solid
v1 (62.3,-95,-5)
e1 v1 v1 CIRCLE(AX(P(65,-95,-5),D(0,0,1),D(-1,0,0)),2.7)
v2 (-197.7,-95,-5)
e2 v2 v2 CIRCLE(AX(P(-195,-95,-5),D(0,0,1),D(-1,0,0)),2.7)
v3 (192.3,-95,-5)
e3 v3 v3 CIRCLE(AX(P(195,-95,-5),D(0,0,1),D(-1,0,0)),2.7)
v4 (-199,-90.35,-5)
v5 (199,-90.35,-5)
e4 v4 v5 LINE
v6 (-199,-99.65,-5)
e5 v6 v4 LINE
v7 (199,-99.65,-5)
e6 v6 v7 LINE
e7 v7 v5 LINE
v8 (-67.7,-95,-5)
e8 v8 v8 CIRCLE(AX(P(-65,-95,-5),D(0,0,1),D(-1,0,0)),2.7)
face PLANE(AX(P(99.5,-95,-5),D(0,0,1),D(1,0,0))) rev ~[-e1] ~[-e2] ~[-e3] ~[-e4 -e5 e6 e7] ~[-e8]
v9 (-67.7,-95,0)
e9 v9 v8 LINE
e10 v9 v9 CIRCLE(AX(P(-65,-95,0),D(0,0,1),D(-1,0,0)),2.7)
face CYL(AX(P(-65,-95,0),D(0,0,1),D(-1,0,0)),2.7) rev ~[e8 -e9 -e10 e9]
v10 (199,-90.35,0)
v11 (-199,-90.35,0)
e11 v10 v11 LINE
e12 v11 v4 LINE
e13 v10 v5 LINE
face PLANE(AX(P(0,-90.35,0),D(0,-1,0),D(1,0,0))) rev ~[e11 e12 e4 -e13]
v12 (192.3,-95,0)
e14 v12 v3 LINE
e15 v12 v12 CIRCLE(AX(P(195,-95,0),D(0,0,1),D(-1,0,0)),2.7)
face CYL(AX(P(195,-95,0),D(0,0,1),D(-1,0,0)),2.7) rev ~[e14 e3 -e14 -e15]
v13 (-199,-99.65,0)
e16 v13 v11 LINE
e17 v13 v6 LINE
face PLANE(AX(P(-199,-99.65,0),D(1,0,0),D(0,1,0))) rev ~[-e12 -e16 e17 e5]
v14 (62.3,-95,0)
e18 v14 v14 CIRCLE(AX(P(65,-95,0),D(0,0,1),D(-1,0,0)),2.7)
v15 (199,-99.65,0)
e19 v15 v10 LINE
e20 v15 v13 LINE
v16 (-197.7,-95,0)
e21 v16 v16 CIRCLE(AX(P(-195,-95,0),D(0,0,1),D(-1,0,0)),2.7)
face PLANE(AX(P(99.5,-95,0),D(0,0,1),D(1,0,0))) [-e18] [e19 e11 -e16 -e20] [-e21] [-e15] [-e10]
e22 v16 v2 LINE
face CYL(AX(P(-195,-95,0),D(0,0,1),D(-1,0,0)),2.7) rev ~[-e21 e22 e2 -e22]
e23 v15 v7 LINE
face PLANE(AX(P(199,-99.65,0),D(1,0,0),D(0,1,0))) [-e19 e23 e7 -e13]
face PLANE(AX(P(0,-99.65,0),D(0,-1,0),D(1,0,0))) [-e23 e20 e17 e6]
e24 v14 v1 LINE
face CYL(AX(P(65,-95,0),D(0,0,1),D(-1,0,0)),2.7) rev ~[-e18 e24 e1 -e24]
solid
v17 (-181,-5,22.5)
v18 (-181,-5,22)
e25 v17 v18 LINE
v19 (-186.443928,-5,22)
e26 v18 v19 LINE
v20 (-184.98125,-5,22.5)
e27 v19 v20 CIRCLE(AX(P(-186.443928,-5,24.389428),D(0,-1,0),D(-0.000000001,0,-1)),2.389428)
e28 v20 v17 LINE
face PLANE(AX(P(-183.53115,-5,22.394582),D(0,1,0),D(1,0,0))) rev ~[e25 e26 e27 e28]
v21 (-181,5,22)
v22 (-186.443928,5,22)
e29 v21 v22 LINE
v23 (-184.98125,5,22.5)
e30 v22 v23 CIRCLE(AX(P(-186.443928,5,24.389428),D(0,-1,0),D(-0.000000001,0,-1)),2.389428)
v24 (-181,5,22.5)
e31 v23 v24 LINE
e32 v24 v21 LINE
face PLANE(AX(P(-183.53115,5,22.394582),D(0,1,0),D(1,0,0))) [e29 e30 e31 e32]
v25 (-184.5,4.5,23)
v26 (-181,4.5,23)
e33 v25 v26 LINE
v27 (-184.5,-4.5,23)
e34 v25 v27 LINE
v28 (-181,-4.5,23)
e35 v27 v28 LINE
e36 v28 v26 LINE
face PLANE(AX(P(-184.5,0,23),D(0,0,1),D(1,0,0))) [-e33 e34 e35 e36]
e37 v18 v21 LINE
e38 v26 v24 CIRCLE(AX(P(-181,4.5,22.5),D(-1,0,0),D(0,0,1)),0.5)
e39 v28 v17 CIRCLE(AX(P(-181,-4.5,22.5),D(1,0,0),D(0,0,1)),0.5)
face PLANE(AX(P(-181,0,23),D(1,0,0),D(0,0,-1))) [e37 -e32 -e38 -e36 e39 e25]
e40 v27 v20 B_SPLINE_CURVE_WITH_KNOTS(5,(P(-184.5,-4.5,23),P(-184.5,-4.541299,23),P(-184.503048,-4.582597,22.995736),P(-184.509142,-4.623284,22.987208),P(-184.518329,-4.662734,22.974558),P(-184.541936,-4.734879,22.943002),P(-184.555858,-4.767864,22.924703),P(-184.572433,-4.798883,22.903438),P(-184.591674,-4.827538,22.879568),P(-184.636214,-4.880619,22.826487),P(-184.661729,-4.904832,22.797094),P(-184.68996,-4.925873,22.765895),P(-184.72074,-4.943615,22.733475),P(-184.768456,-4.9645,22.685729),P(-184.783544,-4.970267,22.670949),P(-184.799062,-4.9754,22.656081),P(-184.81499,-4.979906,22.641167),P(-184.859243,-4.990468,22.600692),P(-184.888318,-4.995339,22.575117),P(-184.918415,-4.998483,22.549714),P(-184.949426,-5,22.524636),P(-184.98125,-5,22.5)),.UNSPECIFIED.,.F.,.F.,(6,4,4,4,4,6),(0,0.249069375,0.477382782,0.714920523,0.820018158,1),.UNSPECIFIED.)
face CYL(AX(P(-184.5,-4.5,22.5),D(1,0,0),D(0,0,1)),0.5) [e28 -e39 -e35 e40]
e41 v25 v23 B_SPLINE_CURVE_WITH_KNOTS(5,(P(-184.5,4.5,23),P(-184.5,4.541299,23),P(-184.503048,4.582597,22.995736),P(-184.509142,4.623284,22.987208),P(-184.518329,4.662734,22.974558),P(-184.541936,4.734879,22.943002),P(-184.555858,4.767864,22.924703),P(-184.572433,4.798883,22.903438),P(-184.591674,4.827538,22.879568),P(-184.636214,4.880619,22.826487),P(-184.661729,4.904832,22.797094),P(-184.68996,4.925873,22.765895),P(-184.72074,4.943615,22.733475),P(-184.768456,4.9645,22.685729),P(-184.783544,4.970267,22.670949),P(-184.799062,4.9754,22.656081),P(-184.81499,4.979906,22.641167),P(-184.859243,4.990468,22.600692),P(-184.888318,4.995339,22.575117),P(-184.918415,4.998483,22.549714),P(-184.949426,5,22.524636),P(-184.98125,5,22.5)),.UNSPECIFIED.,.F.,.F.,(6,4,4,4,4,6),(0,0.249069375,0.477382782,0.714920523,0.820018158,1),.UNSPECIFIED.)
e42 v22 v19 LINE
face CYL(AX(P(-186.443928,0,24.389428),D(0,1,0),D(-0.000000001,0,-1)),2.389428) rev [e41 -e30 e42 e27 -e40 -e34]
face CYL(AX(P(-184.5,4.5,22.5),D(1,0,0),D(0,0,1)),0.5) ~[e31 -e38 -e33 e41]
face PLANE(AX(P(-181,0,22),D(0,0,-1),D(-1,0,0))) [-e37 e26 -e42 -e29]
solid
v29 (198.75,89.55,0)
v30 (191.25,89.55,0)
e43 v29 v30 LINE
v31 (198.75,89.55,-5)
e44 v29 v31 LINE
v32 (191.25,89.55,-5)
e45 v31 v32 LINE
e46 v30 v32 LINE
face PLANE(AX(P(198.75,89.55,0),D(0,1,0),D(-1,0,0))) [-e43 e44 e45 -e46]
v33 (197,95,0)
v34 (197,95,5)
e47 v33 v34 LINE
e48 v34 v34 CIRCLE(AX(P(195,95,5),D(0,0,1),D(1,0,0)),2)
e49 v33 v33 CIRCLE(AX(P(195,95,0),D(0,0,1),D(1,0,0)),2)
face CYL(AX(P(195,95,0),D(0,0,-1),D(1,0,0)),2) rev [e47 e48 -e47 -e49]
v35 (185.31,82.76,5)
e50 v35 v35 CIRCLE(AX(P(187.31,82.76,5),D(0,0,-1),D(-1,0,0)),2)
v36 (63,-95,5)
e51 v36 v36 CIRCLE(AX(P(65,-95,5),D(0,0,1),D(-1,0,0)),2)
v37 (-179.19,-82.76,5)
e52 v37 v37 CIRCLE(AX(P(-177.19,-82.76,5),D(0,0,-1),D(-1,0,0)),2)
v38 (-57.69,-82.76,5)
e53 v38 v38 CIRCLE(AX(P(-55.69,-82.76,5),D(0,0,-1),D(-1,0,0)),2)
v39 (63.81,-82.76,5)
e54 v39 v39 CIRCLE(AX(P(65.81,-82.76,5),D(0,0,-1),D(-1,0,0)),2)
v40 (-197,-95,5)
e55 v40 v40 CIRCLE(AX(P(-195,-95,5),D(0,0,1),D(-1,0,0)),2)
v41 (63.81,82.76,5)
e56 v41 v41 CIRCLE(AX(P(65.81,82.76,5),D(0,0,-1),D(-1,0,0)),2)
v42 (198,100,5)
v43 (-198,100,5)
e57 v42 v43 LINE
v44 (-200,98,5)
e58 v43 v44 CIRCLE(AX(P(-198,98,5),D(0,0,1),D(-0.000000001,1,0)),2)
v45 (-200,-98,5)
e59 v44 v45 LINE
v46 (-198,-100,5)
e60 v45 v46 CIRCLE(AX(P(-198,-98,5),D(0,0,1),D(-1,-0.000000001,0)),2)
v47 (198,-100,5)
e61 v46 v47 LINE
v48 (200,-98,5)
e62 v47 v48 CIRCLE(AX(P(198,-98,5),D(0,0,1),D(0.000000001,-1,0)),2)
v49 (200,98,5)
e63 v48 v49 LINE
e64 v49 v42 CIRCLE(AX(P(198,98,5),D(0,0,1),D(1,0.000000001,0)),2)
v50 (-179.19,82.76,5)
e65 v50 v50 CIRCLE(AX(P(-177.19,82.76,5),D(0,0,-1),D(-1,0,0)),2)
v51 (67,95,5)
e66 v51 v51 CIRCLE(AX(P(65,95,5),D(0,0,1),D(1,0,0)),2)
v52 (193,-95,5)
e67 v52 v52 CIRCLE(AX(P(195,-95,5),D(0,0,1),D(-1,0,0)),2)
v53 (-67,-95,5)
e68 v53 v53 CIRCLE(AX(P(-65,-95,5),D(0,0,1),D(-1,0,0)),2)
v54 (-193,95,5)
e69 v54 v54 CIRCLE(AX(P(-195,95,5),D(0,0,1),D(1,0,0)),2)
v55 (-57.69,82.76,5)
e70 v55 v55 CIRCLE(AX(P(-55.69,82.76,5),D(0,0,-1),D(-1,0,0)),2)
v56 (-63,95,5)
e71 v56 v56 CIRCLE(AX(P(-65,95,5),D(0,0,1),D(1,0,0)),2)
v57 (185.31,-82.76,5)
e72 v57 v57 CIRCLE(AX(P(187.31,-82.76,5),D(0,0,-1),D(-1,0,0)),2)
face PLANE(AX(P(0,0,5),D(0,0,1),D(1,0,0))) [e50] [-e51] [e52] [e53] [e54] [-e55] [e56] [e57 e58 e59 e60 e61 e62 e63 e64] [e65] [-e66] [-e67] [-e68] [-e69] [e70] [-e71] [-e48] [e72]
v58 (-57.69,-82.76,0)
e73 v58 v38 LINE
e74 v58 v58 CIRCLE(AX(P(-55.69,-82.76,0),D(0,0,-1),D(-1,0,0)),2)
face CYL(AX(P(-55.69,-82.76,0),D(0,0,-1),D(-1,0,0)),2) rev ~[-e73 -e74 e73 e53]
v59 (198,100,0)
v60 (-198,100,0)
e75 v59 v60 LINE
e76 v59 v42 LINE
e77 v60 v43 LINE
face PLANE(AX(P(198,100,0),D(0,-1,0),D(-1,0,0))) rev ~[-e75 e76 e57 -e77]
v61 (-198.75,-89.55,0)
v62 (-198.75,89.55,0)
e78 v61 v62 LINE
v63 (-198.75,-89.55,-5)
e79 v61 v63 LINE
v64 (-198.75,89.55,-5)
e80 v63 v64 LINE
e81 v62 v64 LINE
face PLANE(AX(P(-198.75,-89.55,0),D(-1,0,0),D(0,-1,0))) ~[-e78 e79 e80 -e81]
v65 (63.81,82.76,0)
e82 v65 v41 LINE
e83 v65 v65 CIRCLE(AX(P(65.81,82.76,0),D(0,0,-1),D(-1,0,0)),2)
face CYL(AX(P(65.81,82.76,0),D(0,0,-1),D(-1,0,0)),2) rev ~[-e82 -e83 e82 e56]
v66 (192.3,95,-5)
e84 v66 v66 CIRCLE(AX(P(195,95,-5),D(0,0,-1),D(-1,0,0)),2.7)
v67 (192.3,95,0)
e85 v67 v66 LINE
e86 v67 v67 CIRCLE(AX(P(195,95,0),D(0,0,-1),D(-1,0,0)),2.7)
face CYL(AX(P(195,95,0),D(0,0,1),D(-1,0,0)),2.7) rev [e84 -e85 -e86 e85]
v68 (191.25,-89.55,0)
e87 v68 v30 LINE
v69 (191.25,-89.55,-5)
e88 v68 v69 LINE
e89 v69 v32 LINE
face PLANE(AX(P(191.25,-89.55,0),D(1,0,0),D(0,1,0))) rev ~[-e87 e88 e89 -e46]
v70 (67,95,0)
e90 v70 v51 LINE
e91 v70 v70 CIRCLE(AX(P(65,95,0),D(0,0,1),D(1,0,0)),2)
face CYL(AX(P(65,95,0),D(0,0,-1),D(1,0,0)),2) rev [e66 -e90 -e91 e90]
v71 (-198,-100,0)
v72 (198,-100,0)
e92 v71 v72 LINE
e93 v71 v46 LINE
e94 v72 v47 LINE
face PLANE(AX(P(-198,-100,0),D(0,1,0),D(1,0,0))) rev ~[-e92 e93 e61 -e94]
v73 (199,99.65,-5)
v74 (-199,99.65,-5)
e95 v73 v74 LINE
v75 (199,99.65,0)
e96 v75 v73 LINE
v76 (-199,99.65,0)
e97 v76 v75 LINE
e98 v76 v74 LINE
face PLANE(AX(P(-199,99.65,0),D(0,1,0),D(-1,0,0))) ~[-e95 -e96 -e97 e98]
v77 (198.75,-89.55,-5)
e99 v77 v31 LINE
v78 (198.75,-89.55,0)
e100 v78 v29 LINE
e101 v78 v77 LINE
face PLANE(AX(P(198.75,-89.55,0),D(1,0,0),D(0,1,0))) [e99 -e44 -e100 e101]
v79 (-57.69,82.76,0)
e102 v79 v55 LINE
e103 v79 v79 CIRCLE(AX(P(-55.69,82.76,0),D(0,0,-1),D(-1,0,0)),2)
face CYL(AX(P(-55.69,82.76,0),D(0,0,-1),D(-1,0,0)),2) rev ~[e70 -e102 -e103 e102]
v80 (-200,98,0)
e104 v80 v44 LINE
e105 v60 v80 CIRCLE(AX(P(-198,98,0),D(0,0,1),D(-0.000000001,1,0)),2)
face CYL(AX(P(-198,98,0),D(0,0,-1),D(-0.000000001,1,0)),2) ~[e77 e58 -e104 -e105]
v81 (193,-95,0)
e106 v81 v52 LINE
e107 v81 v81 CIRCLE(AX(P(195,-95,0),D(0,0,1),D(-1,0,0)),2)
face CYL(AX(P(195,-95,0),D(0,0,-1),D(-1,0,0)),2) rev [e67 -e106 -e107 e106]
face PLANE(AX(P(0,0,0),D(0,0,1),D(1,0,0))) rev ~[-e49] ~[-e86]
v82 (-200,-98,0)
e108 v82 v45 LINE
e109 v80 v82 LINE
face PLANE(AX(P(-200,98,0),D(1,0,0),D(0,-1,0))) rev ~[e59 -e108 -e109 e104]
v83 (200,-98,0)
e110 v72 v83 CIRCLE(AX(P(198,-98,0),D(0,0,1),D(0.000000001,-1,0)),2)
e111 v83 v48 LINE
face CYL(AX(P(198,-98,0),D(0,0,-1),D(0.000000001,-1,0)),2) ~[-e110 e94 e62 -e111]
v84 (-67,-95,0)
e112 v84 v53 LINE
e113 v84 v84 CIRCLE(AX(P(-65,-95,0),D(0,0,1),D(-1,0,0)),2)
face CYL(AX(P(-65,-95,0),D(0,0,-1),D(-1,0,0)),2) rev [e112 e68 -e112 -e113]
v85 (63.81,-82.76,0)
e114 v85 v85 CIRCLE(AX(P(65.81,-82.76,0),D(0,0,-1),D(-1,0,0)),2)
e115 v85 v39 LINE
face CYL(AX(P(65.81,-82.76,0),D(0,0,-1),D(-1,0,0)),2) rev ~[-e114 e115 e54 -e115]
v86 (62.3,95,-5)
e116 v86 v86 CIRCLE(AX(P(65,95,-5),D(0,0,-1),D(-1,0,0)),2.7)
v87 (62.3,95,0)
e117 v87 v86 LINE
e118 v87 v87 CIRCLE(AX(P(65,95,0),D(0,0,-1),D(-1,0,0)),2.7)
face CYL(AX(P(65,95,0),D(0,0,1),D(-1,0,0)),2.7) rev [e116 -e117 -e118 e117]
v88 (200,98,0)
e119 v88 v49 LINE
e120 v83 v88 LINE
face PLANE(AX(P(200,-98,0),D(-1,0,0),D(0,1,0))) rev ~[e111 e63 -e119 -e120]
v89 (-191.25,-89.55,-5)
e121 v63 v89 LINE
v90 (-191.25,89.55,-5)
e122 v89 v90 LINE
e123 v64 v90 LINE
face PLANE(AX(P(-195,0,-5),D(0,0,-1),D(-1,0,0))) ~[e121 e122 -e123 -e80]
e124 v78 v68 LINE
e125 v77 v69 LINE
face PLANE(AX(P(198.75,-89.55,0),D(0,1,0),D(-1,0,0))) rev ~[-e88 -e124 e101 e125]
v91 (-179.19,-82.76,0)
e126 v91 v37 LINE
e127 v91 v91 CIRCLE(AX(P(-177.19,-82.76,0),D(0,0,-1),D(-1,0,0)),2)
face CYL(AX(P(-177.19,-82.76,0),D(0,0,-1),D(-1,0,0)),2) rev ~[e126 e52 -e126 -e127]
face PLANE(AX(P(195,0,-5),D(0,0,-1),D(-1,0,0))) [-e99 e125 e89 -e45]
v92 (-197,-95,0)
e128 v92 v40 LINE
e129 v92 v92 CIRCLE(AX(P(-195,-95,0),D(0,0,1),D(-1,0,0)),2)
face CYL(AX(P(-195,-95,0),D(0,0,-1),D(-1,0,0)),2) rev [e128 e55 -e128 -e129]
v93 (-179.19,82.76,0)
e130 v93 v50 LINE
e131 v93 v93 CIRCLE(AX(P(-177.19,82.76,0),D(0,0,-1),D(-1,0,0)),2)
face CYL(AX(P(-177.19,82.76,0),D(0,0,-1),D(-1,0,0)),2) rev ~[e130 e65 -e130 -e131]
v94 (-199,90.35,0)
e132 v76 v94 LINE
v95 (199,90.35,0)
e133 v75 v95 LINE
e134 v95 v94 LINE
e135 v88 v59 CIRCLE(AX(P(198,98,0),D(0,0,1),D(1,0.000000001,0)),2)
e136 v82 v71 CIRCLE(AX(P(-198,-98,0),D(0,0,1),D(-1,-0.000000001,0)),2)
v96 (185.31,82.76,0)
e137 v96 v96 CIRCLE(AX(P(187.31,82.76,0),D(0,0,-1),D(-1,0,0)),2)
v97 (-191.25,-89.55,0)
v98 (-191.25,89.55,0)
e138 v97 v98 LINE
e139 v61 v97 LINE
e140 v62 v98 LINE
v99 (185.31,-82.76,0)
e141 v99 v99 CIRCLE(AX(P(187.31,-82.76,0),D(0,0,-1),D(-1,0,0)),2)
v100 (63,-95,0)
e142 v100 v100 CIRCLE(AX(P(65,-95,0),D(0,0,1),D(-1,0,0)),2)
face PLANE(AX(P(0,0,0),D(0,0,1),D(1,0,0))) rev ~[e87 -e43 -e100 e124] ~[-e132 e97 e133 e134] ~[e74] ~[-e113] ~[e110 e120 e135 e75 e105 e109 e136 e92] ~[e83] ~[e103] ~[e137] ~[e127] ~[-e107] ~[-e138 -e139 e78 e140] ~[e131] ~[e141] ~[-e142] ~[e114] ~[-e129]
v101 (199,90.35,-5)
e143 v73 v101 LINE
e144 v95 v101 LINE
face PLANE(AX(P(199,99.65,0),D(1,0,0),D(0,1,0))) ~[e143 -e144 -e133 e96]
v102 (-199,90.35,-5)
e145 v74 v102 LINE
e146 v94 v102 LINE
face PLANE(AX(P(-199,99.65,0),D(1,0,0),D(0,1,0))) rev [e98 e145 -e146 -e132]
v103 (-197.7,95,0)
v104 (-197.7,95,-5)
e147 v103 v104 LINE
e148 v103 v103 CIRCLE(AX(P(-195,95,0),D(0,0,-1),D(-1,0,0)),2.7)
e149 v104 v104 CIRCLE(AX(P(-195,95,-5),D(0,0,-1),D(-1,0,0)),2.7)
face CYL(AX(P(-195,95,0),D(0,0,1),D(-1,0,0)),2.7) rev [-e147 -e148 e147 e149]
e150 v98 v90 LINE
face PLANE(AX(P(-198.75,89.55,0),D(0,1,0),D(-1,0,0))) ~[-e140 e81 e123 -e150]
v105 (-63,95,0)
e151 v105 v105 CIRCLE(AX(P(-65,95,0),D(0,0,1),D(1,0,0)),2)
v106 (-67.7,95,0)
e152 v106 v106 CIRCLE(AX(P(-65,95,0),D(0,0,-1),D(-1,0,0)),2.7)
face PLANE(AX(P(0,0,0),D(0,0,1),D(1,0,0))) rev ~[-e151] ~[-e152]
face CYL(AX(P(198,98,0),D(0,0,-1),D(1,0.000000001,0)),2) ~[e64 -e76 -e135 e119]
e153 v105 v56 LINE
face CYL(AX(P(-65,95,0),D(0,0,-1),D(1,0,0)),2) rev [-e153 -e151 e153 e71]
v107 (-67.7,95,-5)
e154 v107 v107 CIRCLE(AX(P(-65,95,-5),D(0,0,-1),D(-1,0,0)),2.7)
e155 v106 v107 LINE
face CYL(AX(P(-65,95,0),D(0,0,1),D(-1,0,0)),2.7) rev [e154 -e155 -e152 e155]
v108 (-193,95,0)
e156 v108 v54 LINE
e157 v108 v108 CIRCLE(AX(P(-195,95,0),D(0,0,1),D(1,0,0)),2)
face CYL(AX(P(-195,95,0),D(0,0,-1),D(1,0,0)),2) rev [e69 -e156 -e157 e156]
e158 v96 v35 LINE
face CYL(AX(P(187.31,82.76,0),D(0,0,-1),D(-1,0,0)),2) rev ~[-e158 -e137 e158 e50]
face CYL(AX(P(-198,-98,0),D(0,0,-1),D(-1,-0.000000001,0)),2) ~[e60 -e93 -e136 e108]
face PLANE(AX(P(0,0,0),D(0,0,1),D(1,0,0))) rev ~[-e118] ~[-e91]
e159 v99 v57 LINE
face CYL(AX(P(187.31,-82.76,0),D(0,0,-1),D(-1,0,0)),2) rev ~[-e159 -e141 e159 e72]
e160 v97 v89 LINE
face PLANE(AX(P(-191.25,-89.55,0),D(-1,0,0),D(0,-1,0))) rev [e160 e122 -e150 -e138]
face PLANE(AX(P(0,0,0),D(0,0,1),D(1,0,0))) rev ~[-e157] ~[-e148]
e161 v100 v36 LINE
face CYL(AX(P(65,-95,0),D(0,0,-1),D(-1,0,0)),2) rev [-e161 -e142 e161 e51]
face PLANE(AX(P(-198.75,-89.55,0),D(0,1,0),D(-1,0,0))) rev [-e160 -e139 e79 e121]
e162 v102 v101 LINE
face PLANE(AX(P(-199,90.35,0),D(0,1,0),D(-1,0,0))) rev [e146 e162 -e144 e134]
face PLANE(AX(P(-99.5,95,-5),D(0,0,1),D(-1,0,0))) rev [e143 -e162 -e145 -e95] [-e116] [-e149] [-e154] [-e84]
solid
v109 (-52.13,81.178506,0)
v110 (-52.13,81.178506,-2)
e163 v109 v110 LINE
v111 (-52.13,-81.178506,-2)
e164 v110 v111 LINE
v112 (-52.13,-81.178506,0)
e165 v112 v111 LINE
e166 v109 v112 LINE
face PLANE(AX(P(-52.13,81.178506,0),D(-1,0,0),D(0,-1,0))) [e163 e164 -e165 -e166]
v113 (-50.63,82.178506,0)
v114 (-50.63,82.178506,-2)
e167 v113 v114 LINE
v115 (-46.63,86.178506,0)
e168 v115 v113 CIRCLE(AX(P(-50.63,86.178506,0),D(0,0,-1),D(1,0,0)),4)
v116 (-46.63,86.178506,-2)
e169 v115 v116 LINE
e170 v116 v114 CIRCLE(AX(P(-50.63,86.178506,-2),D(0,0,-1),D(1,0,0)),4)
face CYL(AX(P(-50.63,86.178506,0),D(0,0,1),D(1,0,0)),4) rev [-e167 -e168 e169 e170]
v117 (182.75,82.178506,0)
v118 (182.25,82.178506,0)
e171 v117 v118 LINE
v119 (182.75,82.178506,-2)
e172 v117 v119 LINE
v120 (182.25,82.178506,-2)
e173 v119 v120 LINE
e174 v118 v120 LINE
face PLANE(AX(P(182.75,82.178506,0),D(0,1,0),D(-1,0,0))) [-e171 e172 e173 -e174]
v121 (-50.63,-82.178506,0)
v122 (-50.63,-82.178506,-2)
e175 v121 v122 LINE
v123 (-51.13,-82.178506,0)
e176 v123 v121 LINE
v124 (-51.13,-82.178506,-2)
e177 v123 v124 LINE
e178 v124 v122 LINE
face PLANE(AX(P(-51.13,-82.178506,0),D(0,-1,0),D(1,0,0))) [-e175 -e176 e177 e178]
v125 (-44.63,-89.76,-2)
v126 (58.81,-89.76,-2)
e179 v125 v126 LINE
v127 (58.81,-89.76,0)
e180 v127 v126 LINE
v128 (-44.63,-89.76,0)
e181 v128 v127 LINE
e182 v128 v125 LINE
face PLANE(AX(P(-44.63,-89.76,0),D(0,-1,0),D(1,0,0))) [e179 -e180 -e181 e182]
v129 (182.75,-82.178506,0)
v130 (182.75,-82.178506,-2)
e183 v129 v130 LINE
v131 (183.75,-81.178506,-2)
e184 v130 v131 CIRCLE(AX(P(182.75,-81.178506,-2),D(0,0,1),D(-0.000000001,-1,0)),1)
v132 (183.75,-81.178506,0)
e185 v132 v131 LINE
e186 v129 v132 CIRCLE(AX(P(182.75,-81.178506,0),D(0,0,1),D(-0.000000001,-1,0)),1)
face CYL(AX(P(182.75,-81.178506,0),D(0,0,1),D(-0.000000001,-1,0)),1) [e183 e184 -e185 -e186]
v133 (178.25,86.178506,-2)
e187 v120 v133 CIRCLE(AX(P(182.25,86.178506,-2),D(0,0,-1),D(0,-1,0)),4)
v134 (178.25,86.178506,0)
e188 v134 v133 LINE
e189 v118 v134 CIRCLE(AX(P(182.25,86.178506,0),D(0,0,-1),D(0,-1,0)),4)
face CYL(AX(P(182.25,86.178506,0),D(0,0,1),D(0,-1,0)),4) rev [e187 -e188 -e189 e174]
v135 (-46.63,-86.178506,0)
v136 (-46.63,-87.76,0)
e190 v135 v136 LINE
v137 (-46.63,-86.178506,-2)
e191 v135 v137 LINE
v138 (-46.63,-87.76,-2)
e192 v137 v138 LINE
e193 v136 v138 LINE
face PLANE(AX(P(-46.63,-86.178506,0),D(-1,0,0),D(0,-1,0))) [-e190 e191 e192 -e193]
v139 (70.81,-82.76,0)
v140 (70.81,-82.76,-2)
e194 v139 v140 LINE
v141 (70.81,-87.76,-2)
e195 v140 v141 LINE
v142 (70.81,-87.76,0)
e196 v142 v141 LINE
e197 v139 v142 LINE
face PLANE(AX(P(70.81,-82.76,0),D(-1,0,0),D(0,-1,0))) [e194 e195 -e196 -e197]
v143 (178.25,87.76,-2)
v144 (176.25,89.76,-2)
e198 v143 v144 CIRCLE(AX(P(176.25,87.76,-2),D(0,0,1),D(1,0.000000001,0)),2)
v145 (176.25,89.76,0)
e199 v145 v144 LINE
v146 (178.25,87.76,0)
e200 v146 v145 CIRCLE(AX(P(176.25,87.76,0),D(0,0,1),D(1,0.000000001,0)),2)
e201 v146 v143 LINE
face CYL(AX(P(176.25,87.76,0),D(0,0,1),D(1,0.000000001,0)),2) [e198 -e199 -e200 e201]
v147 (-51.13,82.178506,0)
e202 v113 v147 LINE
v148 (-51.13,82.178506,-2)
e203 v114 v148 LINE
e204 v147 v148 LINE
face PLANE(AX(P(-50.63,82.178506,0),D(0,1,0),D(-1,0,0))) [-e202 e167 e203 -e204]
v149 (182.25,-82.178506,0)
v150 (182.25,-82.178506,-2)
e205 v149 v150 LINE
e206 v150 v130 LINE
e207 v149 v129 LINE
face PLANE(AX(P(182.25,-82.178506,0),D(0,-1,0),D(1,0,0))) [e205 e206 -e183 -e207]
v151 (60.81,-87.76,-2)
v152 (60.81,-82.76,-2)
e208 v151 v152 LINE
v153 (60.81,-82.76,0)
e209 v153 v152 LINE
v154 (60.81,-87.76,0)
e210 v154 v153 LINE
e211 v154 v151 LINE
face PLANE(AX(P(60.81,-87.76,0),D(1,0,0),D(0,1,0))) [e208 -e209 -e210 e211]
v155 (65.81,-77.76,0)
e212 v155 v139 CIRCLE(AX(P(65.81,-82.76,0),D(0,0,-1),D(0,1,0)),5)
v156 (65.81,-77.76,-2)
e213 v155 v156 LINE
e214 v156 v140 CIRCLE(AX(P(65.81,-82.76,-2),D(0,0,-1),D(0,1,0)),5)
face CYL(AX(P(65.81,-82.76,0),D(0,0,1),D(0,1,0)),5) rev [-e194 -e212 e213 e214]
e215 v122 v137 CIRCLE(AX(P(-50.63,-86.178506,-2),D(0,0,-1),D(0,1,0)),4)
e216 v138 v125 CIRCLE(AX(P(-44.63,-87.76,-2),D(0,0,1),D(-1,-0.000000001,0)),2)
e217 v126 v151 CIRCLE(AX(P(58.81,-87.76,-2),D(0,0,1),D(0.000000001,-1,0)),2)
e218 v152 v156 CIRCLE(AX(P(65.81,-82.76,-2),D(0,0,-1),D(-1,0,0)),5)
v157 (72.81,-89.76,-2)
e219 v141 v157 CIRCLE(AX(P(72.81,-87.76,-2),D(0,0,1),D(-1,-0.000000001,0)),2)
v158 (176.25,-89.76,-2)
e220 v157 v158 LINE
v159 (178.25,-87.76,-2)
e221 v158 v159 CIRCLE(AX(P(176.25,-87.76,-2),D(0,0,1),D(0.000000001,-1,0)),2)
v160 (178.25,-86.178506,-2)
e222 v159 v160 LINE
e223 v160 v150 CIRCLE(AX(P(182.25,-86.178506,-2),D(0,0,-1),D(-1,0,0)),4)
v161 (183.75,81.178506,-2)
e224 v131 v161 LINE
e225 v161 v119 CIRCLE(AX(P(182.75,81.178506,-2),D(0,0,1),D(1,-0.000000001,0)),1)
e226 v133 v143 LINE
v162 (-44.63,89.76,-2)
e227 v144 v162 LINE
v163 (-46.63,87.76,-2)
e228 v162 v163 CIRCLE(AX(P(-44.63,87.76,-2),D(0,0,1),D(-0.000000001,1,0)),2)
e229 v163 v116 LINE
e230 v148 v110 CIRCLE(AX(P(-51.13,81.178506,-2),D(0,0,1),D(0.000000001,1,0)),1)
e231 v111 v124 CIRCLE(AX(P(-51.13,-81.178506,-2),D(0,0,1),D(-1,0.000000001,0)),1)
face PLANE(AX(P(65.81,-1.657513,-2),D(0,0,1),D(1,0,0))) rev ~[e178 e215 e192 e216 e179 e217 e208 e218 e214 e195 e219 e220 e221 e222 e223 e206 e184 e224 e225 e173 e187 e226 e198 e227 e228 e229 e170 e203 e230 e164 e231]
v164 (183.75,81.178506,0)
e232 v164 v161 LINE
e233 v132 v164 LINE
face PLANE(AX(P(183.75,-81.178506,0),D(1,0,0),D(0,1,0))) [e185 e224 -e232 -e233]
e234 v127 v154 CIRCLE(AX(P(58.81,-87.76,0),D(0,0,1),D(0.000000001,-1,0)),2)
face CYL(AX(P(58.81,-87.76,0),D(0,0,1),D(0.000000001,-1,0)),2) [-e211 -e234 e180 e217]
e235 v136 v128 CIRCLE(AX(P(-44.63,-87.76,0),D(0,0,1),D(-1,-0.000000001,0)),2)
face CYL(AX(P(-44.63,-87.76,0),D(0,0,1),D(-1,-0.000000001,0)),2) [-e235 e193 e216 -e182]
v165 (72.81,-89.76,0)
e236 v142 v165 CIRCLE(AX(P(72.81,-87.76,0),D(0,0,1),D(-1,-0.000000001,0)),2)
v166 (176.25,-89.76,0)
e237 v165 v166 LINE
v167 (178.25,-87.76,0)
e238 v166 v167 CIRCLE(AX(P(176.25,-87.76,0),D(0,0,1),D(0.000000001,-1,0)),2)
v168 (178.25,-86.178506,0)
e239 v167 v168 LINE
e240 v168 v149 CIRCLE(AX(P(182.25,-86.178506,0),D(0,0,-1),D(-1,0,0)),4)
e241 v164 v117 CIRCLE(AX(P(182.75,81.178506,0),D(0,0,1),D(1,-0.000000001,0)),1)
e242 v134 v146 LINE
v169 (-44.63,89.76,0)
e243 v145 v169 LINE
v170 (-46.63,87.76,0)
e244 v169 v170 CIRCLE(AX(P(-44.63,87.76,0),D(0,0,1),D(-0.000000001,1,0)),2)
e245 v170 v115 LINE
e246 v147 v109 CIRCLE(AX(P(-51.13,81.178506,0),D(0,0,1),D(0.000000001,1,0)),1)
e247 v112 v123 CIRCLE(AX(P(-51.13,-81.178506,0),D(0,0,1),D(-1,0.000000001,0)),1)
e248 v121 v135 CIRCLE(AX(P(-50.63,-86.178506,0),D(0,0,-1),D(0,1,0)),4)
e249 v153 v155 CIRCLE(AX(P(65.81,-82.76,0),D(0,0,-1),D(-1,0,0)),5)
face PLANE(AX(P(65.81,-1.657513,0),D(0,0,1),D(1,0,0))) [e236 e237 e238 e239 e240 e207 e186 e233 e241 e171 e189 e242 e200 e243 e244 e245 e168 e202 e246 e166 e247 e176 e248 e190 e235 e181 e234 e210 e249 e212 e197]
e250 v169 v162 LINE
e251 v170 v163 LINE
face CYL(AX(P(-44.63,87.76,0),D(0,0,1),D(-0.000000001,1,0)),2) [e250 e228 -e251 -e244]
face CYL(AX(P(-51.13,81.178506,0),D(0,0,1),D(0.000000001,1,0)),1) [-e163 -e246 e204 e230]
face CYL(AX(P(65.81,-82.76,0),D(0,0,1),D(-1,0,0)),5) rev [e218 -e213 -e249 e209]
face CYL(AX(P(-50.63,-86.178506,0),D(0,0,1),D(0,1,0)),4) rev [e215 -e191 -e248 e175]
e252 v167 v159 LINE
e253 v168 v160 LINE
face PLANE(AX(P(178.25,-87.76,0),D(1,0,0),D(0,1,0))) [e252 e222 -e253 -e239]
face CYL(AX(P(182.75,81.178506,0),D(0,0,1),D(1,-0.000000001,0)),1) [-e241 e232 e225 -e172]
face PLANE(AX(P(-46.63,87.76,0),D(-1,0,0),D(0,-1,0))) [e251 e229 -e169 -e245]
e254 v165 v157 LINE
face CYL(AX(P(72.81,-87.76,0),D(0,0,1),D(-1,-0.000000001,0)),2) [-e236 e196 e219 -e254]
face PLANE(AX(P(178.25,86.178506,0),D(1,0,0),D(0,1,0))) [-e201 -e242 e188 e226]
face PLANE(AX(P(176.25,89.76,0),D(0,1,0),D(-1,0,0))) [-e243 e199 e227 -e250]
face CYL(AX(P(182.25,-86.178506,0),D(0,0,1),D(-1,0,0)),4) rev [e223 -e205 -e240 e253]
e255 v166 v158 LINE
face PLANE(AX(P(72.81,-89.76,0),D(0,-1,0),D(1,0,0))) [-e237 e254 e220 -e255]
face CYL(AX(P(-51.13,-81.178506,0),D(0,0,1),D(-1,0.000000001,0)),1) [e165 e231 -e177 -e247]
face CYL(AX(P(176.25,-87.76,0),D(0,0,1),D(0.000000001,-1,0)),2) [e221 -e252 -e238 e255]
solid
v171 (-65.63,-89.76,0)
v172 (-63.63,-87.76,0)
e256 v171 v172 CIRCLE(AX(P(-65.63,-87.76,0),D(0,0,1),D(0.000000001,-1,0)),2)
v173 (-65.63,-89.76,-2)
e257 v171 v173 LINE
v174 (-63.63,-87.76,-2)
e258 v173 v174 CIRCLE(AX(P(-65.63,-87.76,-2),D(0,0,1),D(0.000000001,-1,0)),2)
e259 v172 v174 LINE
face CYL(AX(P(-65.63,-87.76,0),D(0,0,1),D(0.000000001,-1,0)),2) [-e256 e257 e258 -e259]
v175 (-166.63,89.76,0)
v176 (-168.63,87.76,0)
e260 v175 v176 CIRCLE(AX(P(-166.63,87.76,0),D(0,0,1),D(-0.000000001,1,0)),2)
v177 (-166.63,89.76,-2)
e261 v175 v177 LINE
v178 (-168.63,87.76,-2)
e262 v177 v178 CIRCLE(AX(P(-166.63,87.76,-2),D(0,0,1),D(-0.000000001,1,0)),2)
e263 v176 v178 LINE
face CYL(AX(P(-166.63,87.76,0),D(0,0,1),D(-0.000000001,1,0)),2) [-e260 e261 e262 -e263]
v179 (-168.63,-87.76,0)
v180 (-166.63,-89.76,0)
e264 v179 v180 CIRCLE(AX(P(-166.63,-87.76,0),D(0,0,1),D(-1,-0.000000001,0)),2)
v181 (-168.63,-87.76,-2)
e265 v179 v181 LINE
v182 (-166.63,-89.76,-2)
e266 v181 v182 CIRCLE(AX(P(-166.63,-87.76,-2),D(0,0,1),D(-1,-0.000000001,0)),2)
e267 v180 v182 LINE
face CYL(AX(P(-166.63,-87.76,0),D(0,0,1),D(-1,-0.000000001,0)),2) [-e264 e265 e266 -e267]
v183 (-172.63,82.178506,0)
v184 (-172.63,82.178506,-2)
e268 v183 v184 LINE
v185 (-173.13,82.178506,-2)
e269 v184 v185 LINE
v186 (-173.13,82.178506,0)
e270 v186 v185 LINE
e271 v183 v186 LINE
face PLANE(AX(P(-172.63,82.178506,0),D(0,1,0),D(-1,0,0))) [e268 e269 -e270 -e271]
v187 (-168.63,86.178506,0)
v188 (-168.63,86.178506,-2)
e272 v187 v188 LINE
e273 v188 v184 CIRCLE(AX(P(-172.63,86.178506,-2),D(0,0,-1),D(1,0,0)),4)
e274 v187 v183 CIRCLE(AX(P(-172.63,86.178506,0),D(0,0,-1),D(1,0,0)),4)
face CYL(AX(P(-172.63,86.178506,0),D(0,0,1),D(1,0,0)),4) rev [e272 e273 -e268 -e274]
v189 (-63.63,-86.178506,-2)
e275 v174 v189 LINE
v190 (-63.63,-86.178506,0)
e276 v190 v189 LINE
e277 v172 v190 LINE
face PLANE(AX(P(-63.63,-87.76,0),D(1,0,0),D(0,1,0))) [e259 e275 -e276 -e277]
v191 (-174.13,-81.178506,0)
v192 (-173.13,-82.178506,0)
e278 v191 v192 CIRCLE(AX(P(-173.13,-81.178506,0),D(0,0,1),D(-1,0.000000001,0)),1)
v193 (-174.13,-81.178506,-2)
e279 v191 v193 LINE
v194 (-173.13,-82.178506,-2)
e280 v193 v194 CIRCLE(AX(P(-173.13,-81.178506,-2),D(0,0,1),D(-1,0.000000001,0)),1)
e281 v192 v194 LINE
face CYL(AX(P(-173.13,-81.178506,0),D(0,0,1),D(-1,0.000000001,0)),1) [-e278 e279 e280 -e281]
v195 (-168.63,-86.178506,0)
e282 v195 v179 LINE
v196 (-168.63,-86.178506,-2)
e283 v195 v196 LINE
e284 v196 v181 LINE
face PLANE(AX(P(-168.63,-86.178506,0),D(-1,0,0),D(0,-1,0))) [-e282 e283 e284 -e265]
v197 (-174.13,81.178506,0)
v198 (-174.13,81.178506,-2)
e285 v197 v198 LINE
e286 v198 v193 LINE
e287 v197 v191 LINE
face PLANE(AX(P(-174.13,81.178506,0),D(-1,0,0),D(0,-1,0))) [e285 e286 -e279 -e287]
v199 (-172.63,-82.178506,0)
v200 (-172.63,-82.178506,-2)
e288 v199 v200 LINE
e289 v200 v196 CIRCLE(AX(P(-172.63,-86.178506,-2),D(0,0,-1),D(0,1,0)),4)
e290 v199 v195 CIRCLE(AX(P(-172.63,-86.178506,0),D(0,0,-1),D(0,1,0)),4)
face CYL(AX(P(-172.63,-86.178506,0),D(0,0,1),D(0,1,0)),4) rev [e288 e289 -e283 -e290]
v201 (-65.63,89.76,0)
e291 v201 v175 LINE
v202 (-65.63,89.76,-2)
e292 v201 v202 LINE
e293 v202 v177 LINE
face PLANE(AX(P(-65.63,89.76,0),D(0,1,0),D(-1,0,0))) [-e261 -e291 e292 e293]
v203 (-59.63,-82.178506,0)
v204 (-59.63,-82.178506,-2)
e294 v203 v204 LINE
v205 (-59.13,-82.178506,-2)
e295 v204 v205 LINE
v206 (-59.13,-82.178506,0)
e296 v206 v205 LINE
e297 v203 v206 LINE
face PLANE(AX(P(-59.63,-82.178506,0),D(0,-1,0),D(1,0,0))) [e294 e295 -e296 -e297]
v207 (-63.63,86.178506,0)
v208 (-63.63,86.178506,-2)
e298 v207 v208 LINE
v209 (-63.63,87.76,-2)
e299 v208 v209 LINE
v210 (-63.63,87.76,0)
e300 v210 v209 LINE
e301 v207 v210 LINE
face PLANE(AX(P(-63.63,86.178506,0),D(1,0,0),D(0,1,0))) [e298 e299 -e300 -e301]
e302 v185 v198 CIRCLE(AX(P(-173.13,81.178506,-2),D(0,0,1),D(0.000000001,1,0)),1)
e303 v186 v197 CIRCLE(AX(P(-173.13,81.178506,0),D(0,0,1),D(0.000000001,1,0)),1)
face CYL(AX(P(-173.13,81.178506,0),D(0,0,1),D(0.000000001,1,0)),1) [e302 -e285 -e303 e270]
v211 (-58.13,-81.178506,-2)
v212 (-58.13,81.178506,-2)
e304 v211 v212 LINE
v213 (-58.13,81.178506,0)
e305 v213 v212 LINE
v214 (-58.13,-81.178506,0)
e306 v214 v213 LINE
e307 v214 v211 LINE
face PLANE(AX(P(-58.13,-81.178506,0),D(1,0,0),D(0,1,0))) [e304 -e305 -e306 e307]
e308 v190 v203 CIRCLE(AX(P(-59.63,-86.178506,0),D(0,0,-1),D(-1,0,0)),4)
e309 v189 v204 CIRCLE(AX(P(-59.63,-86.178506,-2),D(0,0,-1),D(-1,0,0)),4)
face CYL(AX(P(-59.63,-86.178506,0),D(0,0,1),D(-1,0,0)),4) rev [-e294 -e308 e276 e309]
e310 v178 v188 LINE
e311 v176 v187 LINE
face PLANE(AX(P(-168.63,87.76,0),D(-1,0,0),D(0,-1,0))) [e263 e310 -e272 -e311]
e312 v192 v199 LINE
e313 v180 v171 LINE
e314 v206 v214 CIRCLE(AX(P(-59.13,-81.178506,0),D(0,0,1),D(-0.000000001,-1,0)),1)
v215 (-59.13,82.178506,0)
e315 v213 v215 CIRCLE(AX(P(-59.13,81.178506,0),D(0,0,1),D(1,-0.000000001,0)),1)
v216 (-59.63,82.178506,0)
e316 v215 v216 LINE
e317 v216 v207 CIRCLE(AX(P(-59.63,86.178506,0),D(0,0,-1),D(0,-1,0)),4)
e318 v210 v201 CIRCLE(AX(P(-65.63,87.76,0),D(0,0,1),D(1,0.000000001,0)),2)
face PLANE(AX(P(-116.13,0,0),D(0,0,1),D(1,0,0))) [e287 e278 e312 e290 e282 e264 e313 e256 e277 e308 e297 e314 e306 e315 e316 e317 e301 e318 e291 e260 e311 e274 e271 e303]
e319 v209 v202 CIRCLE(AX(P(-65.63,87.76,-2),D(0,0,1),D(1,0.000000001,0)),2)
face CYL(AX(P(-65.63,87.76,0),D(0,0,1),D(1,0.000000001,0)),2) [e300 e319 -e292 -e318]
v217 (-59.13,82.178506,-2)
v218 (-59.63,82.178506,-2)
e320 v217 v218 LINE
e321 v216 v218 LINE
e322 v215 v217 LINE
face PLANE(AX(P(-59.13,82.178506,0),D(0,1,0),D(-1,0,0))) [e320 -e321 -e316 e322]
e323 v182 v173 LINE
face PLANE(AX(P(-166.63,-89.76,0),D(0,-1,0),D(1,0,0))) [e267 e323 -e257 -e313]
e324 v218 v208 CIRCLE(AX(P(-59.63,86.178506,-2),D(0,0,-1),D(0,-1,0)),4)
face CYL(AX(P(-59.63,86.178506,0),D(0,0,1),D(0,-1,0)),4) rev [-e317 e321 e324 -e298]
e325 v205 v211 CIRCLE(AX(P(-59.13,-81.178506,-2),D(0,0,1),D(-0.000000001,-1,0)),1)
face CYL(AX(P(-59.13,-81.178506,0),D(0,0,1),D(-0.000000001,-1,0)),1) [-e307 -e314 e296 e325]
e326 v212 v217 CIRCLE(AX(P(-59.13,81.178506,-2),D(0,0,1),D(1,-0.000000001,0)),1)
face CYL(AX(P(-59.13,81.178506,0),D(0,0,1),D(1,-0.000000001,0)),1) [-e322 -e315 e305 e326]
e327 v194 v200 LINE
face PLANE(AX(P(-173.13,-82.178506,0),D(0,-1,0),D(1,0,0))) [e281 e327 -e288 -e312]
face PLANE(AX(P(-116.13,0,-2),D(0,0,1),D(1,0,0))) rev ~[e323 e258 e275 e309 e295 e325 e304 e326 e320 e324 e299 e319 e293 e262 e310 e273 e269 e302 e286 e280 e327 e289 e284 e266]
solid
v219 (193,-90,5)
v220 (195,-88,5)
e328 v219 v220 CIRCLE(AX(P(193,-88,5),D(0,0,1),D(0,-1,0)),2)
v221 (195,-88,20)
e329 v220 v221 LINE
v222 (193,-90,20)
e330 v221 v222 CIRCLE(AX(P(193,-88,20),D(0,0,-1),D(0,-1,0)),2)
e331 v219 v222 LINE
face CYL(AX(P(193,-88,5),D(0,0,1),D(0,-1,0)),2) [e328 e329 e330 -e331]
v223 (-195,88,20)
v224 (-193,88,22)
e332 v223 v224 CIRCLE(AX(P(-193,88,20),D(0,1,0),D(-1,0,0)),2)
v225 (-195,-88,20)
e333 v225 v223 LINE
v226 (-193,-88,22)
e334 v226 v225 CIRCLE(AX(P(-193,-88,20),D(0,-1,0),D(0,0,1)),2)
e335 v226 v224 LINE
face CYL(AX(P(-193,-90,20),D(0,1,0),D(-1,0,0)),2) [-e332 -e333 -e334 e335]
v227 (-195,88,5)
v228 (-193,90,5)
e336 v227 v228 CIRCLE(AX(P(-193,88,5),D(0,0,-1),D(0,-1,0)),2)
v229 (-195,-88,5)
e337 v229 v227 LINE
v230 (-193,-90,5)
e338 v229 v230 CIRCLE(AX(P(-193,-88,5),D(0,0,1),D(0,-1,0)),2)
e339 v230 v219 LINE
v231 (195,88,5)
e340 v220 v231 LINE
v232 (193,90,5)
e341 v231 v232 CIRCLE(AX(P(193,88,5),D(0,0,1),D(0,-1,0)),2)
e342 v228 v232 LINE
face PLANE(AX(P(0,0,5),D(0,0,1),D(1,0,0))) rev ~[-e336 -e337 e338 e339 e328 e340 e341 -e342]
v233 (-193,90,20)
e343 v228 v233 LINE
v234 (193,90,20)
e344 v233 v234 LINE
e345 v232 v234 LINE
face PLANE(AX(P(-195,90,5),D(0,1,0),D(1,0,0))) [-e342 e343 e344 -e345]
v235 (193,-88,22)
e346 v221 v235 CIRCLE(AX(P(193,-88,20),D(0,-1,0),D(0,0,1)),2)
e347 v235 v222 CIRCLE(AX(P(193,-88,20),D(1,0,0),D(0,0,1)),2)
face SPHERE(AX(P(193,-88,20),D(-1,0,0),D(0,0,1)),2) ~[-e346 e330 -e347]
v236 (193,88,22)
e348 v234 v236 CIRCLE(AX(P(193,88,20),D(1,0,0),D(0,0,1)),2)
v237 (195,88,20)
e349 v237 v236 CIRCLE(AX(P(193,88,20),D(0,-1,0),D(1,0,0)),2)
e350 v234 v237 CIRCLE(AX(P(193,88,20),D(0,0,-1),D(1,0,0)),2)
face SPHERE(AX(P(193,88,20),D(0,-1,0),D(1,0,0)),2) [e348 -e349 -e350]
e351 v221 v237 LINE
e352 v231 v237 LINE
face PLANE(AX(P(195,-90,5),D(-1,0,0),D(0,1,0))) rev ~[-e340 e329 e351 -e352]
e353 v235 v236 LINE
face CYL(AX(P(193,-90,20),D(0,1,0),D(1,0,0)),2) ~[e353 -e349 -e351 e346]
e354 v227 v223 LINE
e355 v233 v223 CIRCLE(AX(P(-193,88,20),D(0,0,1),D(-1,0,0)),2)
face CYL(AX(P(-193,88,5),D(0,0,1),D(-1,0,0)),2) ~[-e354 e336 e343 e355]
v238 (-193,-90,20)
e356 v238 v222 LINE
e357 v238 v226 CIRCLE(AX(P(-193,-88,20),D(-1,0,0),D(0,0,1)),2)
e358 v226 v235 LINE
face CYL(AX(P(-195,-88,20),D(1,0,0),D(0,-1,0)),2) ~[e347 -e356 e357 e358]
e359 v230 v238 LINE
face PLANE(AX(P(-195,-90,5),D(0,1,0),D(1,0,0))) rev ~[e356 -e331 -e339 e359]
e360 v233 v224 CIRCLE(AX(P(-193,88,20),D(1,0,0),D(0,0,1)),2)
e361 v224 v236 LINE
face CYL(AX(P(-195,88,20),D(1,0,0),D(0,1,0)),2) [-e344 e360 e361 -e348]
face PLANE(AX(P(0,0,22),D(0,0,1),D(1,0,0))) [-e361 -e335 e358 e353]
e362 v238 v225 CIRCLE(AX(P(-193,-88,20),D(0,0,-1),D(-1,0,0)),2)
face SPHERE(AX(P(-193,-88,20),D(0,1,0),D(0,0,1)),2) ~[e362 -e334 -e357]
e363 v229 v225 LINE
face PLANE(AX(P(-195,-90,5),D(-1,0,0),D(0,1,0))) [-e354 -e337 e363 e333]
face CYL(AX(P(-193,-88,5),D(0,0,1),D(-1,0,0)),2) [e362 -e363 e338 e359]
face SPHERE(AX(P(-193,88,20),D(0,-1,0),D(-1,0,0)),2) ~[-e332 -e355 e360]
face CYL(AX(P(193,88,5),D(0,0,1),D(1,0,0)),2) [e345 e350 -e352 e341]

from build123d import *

# Parameters (mm, degrees)
IZIM1_R                       = 2
Y_KSEKLIK_EKSTR_ZYON1_DEPTH   = 5
IZIM3_W                       = 390
IZIM3_H                       = 180
Y_KSEKLIK_EKSTR_ZYON2_DEPTH   = 17
RADYUS1_R                     = 2
Y_KSEKLIK_EKSTR_ZYON3_DEPTH   = 5
RADYUS2_R                     = 0.5
IZIM8_W                       = 199
IZIM8_H                       = 9.3
IZIM8_R                       = 2.7
Y_KSEKLIK_EKSTR_ZYON4_DEPTH   = 5
IZIM9_W                       = 7.5
IZIM9_H                       = 179.1
Y_KSEKLIK_EKSTR_ZYON5_DEPTH   = 5
IZIM10_R                      = 2
KES_EKSTR_ZYON1_DEPTH         = 5
Y_KSEKLIK_EKSTR_ZYON7_DEPTH   = 2
Y_KSEKLIK_EKSTR_ZYON7_2_DEPTH = 2


with BuildPart() as part:
    # Çizim1 → Yükseklik-Ekstrüzyon1 (new body)
    with BuildSketch(Plane.XY):
        with BuildLine():
            Line((-198, -100), (198, -100))
            ThreePointArc((198, -100), (199.414213562, -99.414213562), (200, -98))
            Line((200, -98), (200, 98))
            ThreePointArc((200, 98), (199.414213562, 99.414213562), (198, 100))
            Line((198, 100), (-198, 100))
            ThreePointArc((-198, 100), (-199.414213562, 99.414213562), (-200, 98))
            Line((-200, 98), (-200, -98))
            ThreePointArc((-200, -98), (-199.414213562, -99.414213562), (-198, -100))
        make_face()
        with Locations((-195, 95)):
            Circle(IZIM1_R, mode=Mode.SUBTRACT)
        with Locations((-65, 95)):
            Circle(IZIM1_R, mode=Mode.SUBTRACT)
        with Locations((65, 95)):
            Circle(IZIM1_R, mode=Mode.SUBTRACT)
        with Locations((195, 95)):
            Circle(IZIM1_R, mode=Mode.SUBTRACT)
        with Locations(Location((195, -95, 0), (0, 0, 180))):
            Circle(IZIM1_R, mode=Mode.SUBTRACT)
        with Locations(Location((65, -95, 0), (0, 0, 180))):
            Circle(IZIM1_R, mode=Mode.SUBTRACT)
        with Locations(Location((-65, -95, 0), (0, 0, 180))):
            Circle(IZIM1_R, mode=Mode.SUBTRACT)
        with Locations(Location((-195, -95, 0), (0, 0, 180))):
            Circle(IZIM1_R, mode=Mode.SUBTRACT)
    extrude(amount=Y_KSEKLIK_EKSTR_ZYON1_DEPTH)


with BuildPart() as body_2:
    # Çizim3 → Yükseklik-Ekstrüzyon2 (new body)
    with BuildSketch(Plane.XY.offset(5)):
        Rectangle(IZIM3_W, IZIM3_H)
    extrude(amount=Y_KSEKLIK_EKSTR_ZYON2_DEPTH)

    # Radyus1
    radyus1_edges = [body_2.edges().sort_by_distance(p)[0] for p in [
        (-195, 0, 22),
        (0, -90, 22),
        (195, 0, 22),
        (195, -90, 13.5),
        (-195, -90, 13.5),
        (-195, 90, 13.5),
        (195, 90, 13.5),
        (0, 90, 22),
    ]]
    fillet(radyus1_edges, radius=RADYUS1_R)


with BuildPart() as body_3:
    # Çizim7 → Yükseklik-Ekstrüzyon3 (new, symmetric)
    with BuildSketch(Plane(origin=(0, 0, 0), x_dir=(1, 0, 0), z_dir=(0, 1, 0))):
        with BuildLine():
            Line((-184.5, -23), (-181, -23))
            Line((-181, -23), (-181, -22))
            Line((-181, -22), (-186.443927913, -22))
            ThreePointArc((-186.443927913, -22), (-185.350898209, -22.264656915), (-184.5, -23))
        make_face()
    extrude(amount=Y_KSEKLIK_EKSTR_ZYON3_DEPTH, both=True)

    # Radyus2
    radyus2_edges = [body_3.edges().sort_by_distance(p)[0] for p in [
        (-182.75, -5, 23),
        (-182.75, 5, 23),
    ]]
    fillet(radyus2_edges, radius=RADYUS2_R)


with BuildPart() as body_4:
    # Çizim8 → Yükseklik-Ekstrüzyon4 (new body)
    # profile 1 of 2: a face of its own
    with BuildSketch(Plane.XY):
        with Locations((-99.5, -95)):
            Rectangle(IZIM8_W, IZIM8_H)
        with Locations(Location((-195, -95, 0), (0, 0, 180))):
            Circle(IZIM8_R, mode=Mode.SUBTRACT)
        with Locations(Location((-65, -95, 0), (0, 0, 180))):
            Circle(IZIM8_R, mode=Mode.SUBTRACT)
    # profile 2 of 2: a face of its own
    with BuildSketch(Plane.XY):
        with Locations((99.5, -95)):
            Rectangle(IZIM8_W, IZIM8_H)
        with Locations(Location((65, -95, 0), (0, 0, 180))):
            Circle(IZIM8_R, mode=Mode.SUBTRACT)
        with Locations(Location((195, -95, 0), (0, 0, 180))):
            Circle(IZIM8_R, mode=Mode.SUBTRACT)
    y_kseklik_ekstr_zyon4 = extrude(amount=-Y_KSEKLIK_EKSTR_ZYON4_DEPTH)


with BuildPart() as part_1:
    add(part.part)

    # Aynalama1: Yükseklik-Ekstrüzyon4 across plane
    add(y_kseklik_ekstr_zyon4.mirror(Plane.ZX))

    # Çizim9 → Yükseklik-Ekstrüzyon5 (add)
    with BuildSketch(Plane(origin=(0, 0, 0), x_dir=(-1, 0, 0), z_dir=(0, 0, -1))):
        with Locations((-195, 0)):
            Rectangle(IZIM9_W, IZIM9_H)
    y_kseklik_ekstr_zyon5 = extrude(amount=Y_KSEKLIK_EKSTR_ZYON5_DEPTH)

    # Aynalama2: Yükseklik-Ekstrüzyon5 across plane
    add(y_kseklik_ekstr_zyon5.mirror(Plane(origin=(0, 0, 0), x_dir=(0, 0, 1), z_dir=(1, 0, 0))))

    # Çizim10 → Kes-Ekstrüzyon1 (cut)
    with BuildSketch(Plane(origin=(0, 0, 0), x_dir=(-1, 0, 0), z_dir=(0, 0, -1))):
        with Locations((-187.31, -82.76)):
            Circle(IZIM10_R)
        with Locations((-65.81, -82.76)):
            Circle(IZIM10_R)
        with Locations((55.69, -82.76)):
            Circle(IZIM10_R)
        with Locations((177.19, -82.76)):
            Circle(IZIM10_R)
        with Locations((177.19, 82.76)):
            Circle(IZIM10_R)
        with Locations((55.69, 82.76)):
            Circle(IZIM10_R)
        with Locations((-65.81, 82.76)):
            Circle(IZIM10_R)
        with Locations((-187.31, 82.76)):
            Circle(IZIM10_R)
    extrude(amount=-KES_EKSTR_ZYON1_DEPTH, mode=Mode.SUBTRACT)


with BuildPart() as body_5:
    # Çizim12 → Yükseklik-Ekstrüzyon7 (new body)
    with BuildSketch(Plane(origin=(0, 0, 0), x_dir=(-1, 0, 0), z_dir=(0, 0, -1))):
        with BuildLine():
            Line((-176.25, 89.76), (44.63, 89.76))
            ThreePointArc((44.63, 89.76), (46.044213562, 89.174213562), (46.63, 87.76))
            Line((46.63, 87.76), (46.63, 86.178506215))
            ThreePointArc((46.63, 86.178506215), (47.801572875, 83.350079091), (50.63, 82.178506215))
            Line((50.63, 82.178506215), (51.13, 82.178506215))
            ThreePointArc((51.13, 82.178506215), (51.837106781, 81.885612997), (52.13, 81.178506215))
            Line((52.13, 81.178506215), (52.13, -81.178506215))
            ThreePointArc((52.13, -81.178506215), (51.837106781, -81.885612997), (51.13, -82.178506215))
            Line((51.13, -82.178506215), (50.63, -82.178506215))
            ThreePointArc((50.63, -82.178506215), (47.801572875, -83.350079091), (46.63, -86.178506215))
            Line((46.63, -86.178506215), (46.63, -87.76))
            ThreePointArc((46.63, -87.76), (46.044213562, -89.174213562), (44.63, -89.76))
            Line((44.63, -89.76), (-58.81, -89.76))
            ThreePointArc((-58.81, -89.76), (-60.224213562, -89.174213562), (-60.81, -87.76))
            Line((-60.81, -87.76), (-60.81, -82.76))
            ThreePointArc((-60.81, -82.76), (-62.274466094, -79.224466094), (-65.81, -77.76))
            ThreePointArc((-65.81, -77.76), (-69.345533906, -79.224466094), (-70.81, -82.76))
            Line((-70.81, -82.76), (-70.81, -87.76))
            ThreePointArc((-70.81, -87.76), (-71.395786438, -89.174213562), (-72.81, -89.76))
            Line((-72.81, -89.76), (-176.25, -89.76))
            ThreePointArc((-176.25, -89.76), (-177.664213562, -89.174213562), (-178.25, -87.76))
            Line((-178.25, -87.76), (-178.25, -86.178506215))
            ThreePointArc((-178.25, -86.178506215), (-179.421572875, -83.350079091), (-182.25, -82.178506215))
            Line((-182.25, -82.178506215), (-182.75, -82.178506215))
            ThreePointArc((-182.75, -82.178506215), (-183.457106781, -81.885612997), (-183.75, -81.178506215))
            Line((-183.75, -81.178506215), (-183.75, 81.178506215))
            ThreePointArc((-183.75, 81.178506215), (-183.457106781, 81.885612997), (-182.75, 82.178506215))
            Line((-182.75, 82.178506215), (-182.25, 82.178506215))
            ThreePointArc((-182.25, 82.178506215), (-179.421572875, 83.350079091), (-178.25, 86.178506215))
            Line((-178.25, 86.178506215), (-178.25, 87.76))
            ThreePointArc((-178.25, 87.76), (-177.664213562, 89.174213562), (-176.25, 89.76))
        make_face()
    extrude(amount=Y_KSEKLIK_EKSTR_ZYON7_DEPTH)


with BuildPart() as body_6:
    # Çizim12 → Y_kseklik-Ekstr_zyon7 2 (new body)
    with BuildSketch(Plane(origin=(0, 0, 0), x_dir=(-1, 0, 0), z_dir=(0, 0, -1))):
        with BuildLine():
            Line((63.63, -87.76), (63.63, -86.178506215))
            ThreePointArc((63.63, -86.178506215), (62.458427125, -83.350079091), (59.63, -82.178506215))
            Line((59.63, -82.178506215), (59.13, -82.178506215))
            ThreePointArc((59.13, -82.178506215), (58.422893219, -81.885612997), (58.13, -81.178506215))
            Line((58.13, -81.178506215), (58.13, 81.178506215))
            ThreePointArc((58.13, 81.178506215), (58.422893219, 81.885612997), (59.13, 82.178506215))
            Line((59.13, 82.178506215), (59.63, 82.178506215))
            ThreePointArc((59.63, 82.178506215), (62.458427125, 83.350079091), (63.63, 86.178506215))
            Line((63.63, 86.178506215), (63.63, 87.76))
            ThreePointArc((63.63, 87.76), (64.215786438, 89.174213562), (65.63, 89.76))
            Line((65.63, 89.76), (166.63, 89.76))
            ThreePointArc((166.63, 89.76), (168.044213562, 89.174213562), (168.63, 87.76))
            Line((168.63, 87.76), (168.63, 86.178506215))
            ThreePointArc((168.63, 86.178506215), (169.801572875, 83.350079091), (172.63, 82.178506215))
            Line((172.63, 82.178506215), (173.13, 82.178506215))
            ThreePointArc((173.13, 82.178506215), (173.837106781, 81.885612997), (174.13, 81.178506215))
            Line((174.13, 81.178506215), (174.13, -81.178506215))
            ThreePointArc((174.13, -81.178506215), (173.837106781, -81.885612997), (173.13, -82.178506215))
            Line((173.13, -82.178506215), (172.63, -82.178506215))
            ThreePointArc((172.63, -82.178506215), (169.801572875, -83.350079091), (168.63, -86.178506215))
            Line((168.63, -86.178506215), (168.63, -87.76))
            ThreePointArc((168.63, -87.76), (168.044213562, -89.174213562), (166.63, -89.76))
            Line((166.63, -89.76), (65.63, -89.76))
            ThreePointArc((65.63, -89.76), (64.215786438, -89.174213562), (63.63, -87.76))
        make_face()
    extrude(amount=Y_KSEKLIK_EKSTR_ZYON7_2_DEPTH)


solid = Compound([body_2.part, body_3.part, body_4.part, part_1.part, body_5.part, body_6.part])
